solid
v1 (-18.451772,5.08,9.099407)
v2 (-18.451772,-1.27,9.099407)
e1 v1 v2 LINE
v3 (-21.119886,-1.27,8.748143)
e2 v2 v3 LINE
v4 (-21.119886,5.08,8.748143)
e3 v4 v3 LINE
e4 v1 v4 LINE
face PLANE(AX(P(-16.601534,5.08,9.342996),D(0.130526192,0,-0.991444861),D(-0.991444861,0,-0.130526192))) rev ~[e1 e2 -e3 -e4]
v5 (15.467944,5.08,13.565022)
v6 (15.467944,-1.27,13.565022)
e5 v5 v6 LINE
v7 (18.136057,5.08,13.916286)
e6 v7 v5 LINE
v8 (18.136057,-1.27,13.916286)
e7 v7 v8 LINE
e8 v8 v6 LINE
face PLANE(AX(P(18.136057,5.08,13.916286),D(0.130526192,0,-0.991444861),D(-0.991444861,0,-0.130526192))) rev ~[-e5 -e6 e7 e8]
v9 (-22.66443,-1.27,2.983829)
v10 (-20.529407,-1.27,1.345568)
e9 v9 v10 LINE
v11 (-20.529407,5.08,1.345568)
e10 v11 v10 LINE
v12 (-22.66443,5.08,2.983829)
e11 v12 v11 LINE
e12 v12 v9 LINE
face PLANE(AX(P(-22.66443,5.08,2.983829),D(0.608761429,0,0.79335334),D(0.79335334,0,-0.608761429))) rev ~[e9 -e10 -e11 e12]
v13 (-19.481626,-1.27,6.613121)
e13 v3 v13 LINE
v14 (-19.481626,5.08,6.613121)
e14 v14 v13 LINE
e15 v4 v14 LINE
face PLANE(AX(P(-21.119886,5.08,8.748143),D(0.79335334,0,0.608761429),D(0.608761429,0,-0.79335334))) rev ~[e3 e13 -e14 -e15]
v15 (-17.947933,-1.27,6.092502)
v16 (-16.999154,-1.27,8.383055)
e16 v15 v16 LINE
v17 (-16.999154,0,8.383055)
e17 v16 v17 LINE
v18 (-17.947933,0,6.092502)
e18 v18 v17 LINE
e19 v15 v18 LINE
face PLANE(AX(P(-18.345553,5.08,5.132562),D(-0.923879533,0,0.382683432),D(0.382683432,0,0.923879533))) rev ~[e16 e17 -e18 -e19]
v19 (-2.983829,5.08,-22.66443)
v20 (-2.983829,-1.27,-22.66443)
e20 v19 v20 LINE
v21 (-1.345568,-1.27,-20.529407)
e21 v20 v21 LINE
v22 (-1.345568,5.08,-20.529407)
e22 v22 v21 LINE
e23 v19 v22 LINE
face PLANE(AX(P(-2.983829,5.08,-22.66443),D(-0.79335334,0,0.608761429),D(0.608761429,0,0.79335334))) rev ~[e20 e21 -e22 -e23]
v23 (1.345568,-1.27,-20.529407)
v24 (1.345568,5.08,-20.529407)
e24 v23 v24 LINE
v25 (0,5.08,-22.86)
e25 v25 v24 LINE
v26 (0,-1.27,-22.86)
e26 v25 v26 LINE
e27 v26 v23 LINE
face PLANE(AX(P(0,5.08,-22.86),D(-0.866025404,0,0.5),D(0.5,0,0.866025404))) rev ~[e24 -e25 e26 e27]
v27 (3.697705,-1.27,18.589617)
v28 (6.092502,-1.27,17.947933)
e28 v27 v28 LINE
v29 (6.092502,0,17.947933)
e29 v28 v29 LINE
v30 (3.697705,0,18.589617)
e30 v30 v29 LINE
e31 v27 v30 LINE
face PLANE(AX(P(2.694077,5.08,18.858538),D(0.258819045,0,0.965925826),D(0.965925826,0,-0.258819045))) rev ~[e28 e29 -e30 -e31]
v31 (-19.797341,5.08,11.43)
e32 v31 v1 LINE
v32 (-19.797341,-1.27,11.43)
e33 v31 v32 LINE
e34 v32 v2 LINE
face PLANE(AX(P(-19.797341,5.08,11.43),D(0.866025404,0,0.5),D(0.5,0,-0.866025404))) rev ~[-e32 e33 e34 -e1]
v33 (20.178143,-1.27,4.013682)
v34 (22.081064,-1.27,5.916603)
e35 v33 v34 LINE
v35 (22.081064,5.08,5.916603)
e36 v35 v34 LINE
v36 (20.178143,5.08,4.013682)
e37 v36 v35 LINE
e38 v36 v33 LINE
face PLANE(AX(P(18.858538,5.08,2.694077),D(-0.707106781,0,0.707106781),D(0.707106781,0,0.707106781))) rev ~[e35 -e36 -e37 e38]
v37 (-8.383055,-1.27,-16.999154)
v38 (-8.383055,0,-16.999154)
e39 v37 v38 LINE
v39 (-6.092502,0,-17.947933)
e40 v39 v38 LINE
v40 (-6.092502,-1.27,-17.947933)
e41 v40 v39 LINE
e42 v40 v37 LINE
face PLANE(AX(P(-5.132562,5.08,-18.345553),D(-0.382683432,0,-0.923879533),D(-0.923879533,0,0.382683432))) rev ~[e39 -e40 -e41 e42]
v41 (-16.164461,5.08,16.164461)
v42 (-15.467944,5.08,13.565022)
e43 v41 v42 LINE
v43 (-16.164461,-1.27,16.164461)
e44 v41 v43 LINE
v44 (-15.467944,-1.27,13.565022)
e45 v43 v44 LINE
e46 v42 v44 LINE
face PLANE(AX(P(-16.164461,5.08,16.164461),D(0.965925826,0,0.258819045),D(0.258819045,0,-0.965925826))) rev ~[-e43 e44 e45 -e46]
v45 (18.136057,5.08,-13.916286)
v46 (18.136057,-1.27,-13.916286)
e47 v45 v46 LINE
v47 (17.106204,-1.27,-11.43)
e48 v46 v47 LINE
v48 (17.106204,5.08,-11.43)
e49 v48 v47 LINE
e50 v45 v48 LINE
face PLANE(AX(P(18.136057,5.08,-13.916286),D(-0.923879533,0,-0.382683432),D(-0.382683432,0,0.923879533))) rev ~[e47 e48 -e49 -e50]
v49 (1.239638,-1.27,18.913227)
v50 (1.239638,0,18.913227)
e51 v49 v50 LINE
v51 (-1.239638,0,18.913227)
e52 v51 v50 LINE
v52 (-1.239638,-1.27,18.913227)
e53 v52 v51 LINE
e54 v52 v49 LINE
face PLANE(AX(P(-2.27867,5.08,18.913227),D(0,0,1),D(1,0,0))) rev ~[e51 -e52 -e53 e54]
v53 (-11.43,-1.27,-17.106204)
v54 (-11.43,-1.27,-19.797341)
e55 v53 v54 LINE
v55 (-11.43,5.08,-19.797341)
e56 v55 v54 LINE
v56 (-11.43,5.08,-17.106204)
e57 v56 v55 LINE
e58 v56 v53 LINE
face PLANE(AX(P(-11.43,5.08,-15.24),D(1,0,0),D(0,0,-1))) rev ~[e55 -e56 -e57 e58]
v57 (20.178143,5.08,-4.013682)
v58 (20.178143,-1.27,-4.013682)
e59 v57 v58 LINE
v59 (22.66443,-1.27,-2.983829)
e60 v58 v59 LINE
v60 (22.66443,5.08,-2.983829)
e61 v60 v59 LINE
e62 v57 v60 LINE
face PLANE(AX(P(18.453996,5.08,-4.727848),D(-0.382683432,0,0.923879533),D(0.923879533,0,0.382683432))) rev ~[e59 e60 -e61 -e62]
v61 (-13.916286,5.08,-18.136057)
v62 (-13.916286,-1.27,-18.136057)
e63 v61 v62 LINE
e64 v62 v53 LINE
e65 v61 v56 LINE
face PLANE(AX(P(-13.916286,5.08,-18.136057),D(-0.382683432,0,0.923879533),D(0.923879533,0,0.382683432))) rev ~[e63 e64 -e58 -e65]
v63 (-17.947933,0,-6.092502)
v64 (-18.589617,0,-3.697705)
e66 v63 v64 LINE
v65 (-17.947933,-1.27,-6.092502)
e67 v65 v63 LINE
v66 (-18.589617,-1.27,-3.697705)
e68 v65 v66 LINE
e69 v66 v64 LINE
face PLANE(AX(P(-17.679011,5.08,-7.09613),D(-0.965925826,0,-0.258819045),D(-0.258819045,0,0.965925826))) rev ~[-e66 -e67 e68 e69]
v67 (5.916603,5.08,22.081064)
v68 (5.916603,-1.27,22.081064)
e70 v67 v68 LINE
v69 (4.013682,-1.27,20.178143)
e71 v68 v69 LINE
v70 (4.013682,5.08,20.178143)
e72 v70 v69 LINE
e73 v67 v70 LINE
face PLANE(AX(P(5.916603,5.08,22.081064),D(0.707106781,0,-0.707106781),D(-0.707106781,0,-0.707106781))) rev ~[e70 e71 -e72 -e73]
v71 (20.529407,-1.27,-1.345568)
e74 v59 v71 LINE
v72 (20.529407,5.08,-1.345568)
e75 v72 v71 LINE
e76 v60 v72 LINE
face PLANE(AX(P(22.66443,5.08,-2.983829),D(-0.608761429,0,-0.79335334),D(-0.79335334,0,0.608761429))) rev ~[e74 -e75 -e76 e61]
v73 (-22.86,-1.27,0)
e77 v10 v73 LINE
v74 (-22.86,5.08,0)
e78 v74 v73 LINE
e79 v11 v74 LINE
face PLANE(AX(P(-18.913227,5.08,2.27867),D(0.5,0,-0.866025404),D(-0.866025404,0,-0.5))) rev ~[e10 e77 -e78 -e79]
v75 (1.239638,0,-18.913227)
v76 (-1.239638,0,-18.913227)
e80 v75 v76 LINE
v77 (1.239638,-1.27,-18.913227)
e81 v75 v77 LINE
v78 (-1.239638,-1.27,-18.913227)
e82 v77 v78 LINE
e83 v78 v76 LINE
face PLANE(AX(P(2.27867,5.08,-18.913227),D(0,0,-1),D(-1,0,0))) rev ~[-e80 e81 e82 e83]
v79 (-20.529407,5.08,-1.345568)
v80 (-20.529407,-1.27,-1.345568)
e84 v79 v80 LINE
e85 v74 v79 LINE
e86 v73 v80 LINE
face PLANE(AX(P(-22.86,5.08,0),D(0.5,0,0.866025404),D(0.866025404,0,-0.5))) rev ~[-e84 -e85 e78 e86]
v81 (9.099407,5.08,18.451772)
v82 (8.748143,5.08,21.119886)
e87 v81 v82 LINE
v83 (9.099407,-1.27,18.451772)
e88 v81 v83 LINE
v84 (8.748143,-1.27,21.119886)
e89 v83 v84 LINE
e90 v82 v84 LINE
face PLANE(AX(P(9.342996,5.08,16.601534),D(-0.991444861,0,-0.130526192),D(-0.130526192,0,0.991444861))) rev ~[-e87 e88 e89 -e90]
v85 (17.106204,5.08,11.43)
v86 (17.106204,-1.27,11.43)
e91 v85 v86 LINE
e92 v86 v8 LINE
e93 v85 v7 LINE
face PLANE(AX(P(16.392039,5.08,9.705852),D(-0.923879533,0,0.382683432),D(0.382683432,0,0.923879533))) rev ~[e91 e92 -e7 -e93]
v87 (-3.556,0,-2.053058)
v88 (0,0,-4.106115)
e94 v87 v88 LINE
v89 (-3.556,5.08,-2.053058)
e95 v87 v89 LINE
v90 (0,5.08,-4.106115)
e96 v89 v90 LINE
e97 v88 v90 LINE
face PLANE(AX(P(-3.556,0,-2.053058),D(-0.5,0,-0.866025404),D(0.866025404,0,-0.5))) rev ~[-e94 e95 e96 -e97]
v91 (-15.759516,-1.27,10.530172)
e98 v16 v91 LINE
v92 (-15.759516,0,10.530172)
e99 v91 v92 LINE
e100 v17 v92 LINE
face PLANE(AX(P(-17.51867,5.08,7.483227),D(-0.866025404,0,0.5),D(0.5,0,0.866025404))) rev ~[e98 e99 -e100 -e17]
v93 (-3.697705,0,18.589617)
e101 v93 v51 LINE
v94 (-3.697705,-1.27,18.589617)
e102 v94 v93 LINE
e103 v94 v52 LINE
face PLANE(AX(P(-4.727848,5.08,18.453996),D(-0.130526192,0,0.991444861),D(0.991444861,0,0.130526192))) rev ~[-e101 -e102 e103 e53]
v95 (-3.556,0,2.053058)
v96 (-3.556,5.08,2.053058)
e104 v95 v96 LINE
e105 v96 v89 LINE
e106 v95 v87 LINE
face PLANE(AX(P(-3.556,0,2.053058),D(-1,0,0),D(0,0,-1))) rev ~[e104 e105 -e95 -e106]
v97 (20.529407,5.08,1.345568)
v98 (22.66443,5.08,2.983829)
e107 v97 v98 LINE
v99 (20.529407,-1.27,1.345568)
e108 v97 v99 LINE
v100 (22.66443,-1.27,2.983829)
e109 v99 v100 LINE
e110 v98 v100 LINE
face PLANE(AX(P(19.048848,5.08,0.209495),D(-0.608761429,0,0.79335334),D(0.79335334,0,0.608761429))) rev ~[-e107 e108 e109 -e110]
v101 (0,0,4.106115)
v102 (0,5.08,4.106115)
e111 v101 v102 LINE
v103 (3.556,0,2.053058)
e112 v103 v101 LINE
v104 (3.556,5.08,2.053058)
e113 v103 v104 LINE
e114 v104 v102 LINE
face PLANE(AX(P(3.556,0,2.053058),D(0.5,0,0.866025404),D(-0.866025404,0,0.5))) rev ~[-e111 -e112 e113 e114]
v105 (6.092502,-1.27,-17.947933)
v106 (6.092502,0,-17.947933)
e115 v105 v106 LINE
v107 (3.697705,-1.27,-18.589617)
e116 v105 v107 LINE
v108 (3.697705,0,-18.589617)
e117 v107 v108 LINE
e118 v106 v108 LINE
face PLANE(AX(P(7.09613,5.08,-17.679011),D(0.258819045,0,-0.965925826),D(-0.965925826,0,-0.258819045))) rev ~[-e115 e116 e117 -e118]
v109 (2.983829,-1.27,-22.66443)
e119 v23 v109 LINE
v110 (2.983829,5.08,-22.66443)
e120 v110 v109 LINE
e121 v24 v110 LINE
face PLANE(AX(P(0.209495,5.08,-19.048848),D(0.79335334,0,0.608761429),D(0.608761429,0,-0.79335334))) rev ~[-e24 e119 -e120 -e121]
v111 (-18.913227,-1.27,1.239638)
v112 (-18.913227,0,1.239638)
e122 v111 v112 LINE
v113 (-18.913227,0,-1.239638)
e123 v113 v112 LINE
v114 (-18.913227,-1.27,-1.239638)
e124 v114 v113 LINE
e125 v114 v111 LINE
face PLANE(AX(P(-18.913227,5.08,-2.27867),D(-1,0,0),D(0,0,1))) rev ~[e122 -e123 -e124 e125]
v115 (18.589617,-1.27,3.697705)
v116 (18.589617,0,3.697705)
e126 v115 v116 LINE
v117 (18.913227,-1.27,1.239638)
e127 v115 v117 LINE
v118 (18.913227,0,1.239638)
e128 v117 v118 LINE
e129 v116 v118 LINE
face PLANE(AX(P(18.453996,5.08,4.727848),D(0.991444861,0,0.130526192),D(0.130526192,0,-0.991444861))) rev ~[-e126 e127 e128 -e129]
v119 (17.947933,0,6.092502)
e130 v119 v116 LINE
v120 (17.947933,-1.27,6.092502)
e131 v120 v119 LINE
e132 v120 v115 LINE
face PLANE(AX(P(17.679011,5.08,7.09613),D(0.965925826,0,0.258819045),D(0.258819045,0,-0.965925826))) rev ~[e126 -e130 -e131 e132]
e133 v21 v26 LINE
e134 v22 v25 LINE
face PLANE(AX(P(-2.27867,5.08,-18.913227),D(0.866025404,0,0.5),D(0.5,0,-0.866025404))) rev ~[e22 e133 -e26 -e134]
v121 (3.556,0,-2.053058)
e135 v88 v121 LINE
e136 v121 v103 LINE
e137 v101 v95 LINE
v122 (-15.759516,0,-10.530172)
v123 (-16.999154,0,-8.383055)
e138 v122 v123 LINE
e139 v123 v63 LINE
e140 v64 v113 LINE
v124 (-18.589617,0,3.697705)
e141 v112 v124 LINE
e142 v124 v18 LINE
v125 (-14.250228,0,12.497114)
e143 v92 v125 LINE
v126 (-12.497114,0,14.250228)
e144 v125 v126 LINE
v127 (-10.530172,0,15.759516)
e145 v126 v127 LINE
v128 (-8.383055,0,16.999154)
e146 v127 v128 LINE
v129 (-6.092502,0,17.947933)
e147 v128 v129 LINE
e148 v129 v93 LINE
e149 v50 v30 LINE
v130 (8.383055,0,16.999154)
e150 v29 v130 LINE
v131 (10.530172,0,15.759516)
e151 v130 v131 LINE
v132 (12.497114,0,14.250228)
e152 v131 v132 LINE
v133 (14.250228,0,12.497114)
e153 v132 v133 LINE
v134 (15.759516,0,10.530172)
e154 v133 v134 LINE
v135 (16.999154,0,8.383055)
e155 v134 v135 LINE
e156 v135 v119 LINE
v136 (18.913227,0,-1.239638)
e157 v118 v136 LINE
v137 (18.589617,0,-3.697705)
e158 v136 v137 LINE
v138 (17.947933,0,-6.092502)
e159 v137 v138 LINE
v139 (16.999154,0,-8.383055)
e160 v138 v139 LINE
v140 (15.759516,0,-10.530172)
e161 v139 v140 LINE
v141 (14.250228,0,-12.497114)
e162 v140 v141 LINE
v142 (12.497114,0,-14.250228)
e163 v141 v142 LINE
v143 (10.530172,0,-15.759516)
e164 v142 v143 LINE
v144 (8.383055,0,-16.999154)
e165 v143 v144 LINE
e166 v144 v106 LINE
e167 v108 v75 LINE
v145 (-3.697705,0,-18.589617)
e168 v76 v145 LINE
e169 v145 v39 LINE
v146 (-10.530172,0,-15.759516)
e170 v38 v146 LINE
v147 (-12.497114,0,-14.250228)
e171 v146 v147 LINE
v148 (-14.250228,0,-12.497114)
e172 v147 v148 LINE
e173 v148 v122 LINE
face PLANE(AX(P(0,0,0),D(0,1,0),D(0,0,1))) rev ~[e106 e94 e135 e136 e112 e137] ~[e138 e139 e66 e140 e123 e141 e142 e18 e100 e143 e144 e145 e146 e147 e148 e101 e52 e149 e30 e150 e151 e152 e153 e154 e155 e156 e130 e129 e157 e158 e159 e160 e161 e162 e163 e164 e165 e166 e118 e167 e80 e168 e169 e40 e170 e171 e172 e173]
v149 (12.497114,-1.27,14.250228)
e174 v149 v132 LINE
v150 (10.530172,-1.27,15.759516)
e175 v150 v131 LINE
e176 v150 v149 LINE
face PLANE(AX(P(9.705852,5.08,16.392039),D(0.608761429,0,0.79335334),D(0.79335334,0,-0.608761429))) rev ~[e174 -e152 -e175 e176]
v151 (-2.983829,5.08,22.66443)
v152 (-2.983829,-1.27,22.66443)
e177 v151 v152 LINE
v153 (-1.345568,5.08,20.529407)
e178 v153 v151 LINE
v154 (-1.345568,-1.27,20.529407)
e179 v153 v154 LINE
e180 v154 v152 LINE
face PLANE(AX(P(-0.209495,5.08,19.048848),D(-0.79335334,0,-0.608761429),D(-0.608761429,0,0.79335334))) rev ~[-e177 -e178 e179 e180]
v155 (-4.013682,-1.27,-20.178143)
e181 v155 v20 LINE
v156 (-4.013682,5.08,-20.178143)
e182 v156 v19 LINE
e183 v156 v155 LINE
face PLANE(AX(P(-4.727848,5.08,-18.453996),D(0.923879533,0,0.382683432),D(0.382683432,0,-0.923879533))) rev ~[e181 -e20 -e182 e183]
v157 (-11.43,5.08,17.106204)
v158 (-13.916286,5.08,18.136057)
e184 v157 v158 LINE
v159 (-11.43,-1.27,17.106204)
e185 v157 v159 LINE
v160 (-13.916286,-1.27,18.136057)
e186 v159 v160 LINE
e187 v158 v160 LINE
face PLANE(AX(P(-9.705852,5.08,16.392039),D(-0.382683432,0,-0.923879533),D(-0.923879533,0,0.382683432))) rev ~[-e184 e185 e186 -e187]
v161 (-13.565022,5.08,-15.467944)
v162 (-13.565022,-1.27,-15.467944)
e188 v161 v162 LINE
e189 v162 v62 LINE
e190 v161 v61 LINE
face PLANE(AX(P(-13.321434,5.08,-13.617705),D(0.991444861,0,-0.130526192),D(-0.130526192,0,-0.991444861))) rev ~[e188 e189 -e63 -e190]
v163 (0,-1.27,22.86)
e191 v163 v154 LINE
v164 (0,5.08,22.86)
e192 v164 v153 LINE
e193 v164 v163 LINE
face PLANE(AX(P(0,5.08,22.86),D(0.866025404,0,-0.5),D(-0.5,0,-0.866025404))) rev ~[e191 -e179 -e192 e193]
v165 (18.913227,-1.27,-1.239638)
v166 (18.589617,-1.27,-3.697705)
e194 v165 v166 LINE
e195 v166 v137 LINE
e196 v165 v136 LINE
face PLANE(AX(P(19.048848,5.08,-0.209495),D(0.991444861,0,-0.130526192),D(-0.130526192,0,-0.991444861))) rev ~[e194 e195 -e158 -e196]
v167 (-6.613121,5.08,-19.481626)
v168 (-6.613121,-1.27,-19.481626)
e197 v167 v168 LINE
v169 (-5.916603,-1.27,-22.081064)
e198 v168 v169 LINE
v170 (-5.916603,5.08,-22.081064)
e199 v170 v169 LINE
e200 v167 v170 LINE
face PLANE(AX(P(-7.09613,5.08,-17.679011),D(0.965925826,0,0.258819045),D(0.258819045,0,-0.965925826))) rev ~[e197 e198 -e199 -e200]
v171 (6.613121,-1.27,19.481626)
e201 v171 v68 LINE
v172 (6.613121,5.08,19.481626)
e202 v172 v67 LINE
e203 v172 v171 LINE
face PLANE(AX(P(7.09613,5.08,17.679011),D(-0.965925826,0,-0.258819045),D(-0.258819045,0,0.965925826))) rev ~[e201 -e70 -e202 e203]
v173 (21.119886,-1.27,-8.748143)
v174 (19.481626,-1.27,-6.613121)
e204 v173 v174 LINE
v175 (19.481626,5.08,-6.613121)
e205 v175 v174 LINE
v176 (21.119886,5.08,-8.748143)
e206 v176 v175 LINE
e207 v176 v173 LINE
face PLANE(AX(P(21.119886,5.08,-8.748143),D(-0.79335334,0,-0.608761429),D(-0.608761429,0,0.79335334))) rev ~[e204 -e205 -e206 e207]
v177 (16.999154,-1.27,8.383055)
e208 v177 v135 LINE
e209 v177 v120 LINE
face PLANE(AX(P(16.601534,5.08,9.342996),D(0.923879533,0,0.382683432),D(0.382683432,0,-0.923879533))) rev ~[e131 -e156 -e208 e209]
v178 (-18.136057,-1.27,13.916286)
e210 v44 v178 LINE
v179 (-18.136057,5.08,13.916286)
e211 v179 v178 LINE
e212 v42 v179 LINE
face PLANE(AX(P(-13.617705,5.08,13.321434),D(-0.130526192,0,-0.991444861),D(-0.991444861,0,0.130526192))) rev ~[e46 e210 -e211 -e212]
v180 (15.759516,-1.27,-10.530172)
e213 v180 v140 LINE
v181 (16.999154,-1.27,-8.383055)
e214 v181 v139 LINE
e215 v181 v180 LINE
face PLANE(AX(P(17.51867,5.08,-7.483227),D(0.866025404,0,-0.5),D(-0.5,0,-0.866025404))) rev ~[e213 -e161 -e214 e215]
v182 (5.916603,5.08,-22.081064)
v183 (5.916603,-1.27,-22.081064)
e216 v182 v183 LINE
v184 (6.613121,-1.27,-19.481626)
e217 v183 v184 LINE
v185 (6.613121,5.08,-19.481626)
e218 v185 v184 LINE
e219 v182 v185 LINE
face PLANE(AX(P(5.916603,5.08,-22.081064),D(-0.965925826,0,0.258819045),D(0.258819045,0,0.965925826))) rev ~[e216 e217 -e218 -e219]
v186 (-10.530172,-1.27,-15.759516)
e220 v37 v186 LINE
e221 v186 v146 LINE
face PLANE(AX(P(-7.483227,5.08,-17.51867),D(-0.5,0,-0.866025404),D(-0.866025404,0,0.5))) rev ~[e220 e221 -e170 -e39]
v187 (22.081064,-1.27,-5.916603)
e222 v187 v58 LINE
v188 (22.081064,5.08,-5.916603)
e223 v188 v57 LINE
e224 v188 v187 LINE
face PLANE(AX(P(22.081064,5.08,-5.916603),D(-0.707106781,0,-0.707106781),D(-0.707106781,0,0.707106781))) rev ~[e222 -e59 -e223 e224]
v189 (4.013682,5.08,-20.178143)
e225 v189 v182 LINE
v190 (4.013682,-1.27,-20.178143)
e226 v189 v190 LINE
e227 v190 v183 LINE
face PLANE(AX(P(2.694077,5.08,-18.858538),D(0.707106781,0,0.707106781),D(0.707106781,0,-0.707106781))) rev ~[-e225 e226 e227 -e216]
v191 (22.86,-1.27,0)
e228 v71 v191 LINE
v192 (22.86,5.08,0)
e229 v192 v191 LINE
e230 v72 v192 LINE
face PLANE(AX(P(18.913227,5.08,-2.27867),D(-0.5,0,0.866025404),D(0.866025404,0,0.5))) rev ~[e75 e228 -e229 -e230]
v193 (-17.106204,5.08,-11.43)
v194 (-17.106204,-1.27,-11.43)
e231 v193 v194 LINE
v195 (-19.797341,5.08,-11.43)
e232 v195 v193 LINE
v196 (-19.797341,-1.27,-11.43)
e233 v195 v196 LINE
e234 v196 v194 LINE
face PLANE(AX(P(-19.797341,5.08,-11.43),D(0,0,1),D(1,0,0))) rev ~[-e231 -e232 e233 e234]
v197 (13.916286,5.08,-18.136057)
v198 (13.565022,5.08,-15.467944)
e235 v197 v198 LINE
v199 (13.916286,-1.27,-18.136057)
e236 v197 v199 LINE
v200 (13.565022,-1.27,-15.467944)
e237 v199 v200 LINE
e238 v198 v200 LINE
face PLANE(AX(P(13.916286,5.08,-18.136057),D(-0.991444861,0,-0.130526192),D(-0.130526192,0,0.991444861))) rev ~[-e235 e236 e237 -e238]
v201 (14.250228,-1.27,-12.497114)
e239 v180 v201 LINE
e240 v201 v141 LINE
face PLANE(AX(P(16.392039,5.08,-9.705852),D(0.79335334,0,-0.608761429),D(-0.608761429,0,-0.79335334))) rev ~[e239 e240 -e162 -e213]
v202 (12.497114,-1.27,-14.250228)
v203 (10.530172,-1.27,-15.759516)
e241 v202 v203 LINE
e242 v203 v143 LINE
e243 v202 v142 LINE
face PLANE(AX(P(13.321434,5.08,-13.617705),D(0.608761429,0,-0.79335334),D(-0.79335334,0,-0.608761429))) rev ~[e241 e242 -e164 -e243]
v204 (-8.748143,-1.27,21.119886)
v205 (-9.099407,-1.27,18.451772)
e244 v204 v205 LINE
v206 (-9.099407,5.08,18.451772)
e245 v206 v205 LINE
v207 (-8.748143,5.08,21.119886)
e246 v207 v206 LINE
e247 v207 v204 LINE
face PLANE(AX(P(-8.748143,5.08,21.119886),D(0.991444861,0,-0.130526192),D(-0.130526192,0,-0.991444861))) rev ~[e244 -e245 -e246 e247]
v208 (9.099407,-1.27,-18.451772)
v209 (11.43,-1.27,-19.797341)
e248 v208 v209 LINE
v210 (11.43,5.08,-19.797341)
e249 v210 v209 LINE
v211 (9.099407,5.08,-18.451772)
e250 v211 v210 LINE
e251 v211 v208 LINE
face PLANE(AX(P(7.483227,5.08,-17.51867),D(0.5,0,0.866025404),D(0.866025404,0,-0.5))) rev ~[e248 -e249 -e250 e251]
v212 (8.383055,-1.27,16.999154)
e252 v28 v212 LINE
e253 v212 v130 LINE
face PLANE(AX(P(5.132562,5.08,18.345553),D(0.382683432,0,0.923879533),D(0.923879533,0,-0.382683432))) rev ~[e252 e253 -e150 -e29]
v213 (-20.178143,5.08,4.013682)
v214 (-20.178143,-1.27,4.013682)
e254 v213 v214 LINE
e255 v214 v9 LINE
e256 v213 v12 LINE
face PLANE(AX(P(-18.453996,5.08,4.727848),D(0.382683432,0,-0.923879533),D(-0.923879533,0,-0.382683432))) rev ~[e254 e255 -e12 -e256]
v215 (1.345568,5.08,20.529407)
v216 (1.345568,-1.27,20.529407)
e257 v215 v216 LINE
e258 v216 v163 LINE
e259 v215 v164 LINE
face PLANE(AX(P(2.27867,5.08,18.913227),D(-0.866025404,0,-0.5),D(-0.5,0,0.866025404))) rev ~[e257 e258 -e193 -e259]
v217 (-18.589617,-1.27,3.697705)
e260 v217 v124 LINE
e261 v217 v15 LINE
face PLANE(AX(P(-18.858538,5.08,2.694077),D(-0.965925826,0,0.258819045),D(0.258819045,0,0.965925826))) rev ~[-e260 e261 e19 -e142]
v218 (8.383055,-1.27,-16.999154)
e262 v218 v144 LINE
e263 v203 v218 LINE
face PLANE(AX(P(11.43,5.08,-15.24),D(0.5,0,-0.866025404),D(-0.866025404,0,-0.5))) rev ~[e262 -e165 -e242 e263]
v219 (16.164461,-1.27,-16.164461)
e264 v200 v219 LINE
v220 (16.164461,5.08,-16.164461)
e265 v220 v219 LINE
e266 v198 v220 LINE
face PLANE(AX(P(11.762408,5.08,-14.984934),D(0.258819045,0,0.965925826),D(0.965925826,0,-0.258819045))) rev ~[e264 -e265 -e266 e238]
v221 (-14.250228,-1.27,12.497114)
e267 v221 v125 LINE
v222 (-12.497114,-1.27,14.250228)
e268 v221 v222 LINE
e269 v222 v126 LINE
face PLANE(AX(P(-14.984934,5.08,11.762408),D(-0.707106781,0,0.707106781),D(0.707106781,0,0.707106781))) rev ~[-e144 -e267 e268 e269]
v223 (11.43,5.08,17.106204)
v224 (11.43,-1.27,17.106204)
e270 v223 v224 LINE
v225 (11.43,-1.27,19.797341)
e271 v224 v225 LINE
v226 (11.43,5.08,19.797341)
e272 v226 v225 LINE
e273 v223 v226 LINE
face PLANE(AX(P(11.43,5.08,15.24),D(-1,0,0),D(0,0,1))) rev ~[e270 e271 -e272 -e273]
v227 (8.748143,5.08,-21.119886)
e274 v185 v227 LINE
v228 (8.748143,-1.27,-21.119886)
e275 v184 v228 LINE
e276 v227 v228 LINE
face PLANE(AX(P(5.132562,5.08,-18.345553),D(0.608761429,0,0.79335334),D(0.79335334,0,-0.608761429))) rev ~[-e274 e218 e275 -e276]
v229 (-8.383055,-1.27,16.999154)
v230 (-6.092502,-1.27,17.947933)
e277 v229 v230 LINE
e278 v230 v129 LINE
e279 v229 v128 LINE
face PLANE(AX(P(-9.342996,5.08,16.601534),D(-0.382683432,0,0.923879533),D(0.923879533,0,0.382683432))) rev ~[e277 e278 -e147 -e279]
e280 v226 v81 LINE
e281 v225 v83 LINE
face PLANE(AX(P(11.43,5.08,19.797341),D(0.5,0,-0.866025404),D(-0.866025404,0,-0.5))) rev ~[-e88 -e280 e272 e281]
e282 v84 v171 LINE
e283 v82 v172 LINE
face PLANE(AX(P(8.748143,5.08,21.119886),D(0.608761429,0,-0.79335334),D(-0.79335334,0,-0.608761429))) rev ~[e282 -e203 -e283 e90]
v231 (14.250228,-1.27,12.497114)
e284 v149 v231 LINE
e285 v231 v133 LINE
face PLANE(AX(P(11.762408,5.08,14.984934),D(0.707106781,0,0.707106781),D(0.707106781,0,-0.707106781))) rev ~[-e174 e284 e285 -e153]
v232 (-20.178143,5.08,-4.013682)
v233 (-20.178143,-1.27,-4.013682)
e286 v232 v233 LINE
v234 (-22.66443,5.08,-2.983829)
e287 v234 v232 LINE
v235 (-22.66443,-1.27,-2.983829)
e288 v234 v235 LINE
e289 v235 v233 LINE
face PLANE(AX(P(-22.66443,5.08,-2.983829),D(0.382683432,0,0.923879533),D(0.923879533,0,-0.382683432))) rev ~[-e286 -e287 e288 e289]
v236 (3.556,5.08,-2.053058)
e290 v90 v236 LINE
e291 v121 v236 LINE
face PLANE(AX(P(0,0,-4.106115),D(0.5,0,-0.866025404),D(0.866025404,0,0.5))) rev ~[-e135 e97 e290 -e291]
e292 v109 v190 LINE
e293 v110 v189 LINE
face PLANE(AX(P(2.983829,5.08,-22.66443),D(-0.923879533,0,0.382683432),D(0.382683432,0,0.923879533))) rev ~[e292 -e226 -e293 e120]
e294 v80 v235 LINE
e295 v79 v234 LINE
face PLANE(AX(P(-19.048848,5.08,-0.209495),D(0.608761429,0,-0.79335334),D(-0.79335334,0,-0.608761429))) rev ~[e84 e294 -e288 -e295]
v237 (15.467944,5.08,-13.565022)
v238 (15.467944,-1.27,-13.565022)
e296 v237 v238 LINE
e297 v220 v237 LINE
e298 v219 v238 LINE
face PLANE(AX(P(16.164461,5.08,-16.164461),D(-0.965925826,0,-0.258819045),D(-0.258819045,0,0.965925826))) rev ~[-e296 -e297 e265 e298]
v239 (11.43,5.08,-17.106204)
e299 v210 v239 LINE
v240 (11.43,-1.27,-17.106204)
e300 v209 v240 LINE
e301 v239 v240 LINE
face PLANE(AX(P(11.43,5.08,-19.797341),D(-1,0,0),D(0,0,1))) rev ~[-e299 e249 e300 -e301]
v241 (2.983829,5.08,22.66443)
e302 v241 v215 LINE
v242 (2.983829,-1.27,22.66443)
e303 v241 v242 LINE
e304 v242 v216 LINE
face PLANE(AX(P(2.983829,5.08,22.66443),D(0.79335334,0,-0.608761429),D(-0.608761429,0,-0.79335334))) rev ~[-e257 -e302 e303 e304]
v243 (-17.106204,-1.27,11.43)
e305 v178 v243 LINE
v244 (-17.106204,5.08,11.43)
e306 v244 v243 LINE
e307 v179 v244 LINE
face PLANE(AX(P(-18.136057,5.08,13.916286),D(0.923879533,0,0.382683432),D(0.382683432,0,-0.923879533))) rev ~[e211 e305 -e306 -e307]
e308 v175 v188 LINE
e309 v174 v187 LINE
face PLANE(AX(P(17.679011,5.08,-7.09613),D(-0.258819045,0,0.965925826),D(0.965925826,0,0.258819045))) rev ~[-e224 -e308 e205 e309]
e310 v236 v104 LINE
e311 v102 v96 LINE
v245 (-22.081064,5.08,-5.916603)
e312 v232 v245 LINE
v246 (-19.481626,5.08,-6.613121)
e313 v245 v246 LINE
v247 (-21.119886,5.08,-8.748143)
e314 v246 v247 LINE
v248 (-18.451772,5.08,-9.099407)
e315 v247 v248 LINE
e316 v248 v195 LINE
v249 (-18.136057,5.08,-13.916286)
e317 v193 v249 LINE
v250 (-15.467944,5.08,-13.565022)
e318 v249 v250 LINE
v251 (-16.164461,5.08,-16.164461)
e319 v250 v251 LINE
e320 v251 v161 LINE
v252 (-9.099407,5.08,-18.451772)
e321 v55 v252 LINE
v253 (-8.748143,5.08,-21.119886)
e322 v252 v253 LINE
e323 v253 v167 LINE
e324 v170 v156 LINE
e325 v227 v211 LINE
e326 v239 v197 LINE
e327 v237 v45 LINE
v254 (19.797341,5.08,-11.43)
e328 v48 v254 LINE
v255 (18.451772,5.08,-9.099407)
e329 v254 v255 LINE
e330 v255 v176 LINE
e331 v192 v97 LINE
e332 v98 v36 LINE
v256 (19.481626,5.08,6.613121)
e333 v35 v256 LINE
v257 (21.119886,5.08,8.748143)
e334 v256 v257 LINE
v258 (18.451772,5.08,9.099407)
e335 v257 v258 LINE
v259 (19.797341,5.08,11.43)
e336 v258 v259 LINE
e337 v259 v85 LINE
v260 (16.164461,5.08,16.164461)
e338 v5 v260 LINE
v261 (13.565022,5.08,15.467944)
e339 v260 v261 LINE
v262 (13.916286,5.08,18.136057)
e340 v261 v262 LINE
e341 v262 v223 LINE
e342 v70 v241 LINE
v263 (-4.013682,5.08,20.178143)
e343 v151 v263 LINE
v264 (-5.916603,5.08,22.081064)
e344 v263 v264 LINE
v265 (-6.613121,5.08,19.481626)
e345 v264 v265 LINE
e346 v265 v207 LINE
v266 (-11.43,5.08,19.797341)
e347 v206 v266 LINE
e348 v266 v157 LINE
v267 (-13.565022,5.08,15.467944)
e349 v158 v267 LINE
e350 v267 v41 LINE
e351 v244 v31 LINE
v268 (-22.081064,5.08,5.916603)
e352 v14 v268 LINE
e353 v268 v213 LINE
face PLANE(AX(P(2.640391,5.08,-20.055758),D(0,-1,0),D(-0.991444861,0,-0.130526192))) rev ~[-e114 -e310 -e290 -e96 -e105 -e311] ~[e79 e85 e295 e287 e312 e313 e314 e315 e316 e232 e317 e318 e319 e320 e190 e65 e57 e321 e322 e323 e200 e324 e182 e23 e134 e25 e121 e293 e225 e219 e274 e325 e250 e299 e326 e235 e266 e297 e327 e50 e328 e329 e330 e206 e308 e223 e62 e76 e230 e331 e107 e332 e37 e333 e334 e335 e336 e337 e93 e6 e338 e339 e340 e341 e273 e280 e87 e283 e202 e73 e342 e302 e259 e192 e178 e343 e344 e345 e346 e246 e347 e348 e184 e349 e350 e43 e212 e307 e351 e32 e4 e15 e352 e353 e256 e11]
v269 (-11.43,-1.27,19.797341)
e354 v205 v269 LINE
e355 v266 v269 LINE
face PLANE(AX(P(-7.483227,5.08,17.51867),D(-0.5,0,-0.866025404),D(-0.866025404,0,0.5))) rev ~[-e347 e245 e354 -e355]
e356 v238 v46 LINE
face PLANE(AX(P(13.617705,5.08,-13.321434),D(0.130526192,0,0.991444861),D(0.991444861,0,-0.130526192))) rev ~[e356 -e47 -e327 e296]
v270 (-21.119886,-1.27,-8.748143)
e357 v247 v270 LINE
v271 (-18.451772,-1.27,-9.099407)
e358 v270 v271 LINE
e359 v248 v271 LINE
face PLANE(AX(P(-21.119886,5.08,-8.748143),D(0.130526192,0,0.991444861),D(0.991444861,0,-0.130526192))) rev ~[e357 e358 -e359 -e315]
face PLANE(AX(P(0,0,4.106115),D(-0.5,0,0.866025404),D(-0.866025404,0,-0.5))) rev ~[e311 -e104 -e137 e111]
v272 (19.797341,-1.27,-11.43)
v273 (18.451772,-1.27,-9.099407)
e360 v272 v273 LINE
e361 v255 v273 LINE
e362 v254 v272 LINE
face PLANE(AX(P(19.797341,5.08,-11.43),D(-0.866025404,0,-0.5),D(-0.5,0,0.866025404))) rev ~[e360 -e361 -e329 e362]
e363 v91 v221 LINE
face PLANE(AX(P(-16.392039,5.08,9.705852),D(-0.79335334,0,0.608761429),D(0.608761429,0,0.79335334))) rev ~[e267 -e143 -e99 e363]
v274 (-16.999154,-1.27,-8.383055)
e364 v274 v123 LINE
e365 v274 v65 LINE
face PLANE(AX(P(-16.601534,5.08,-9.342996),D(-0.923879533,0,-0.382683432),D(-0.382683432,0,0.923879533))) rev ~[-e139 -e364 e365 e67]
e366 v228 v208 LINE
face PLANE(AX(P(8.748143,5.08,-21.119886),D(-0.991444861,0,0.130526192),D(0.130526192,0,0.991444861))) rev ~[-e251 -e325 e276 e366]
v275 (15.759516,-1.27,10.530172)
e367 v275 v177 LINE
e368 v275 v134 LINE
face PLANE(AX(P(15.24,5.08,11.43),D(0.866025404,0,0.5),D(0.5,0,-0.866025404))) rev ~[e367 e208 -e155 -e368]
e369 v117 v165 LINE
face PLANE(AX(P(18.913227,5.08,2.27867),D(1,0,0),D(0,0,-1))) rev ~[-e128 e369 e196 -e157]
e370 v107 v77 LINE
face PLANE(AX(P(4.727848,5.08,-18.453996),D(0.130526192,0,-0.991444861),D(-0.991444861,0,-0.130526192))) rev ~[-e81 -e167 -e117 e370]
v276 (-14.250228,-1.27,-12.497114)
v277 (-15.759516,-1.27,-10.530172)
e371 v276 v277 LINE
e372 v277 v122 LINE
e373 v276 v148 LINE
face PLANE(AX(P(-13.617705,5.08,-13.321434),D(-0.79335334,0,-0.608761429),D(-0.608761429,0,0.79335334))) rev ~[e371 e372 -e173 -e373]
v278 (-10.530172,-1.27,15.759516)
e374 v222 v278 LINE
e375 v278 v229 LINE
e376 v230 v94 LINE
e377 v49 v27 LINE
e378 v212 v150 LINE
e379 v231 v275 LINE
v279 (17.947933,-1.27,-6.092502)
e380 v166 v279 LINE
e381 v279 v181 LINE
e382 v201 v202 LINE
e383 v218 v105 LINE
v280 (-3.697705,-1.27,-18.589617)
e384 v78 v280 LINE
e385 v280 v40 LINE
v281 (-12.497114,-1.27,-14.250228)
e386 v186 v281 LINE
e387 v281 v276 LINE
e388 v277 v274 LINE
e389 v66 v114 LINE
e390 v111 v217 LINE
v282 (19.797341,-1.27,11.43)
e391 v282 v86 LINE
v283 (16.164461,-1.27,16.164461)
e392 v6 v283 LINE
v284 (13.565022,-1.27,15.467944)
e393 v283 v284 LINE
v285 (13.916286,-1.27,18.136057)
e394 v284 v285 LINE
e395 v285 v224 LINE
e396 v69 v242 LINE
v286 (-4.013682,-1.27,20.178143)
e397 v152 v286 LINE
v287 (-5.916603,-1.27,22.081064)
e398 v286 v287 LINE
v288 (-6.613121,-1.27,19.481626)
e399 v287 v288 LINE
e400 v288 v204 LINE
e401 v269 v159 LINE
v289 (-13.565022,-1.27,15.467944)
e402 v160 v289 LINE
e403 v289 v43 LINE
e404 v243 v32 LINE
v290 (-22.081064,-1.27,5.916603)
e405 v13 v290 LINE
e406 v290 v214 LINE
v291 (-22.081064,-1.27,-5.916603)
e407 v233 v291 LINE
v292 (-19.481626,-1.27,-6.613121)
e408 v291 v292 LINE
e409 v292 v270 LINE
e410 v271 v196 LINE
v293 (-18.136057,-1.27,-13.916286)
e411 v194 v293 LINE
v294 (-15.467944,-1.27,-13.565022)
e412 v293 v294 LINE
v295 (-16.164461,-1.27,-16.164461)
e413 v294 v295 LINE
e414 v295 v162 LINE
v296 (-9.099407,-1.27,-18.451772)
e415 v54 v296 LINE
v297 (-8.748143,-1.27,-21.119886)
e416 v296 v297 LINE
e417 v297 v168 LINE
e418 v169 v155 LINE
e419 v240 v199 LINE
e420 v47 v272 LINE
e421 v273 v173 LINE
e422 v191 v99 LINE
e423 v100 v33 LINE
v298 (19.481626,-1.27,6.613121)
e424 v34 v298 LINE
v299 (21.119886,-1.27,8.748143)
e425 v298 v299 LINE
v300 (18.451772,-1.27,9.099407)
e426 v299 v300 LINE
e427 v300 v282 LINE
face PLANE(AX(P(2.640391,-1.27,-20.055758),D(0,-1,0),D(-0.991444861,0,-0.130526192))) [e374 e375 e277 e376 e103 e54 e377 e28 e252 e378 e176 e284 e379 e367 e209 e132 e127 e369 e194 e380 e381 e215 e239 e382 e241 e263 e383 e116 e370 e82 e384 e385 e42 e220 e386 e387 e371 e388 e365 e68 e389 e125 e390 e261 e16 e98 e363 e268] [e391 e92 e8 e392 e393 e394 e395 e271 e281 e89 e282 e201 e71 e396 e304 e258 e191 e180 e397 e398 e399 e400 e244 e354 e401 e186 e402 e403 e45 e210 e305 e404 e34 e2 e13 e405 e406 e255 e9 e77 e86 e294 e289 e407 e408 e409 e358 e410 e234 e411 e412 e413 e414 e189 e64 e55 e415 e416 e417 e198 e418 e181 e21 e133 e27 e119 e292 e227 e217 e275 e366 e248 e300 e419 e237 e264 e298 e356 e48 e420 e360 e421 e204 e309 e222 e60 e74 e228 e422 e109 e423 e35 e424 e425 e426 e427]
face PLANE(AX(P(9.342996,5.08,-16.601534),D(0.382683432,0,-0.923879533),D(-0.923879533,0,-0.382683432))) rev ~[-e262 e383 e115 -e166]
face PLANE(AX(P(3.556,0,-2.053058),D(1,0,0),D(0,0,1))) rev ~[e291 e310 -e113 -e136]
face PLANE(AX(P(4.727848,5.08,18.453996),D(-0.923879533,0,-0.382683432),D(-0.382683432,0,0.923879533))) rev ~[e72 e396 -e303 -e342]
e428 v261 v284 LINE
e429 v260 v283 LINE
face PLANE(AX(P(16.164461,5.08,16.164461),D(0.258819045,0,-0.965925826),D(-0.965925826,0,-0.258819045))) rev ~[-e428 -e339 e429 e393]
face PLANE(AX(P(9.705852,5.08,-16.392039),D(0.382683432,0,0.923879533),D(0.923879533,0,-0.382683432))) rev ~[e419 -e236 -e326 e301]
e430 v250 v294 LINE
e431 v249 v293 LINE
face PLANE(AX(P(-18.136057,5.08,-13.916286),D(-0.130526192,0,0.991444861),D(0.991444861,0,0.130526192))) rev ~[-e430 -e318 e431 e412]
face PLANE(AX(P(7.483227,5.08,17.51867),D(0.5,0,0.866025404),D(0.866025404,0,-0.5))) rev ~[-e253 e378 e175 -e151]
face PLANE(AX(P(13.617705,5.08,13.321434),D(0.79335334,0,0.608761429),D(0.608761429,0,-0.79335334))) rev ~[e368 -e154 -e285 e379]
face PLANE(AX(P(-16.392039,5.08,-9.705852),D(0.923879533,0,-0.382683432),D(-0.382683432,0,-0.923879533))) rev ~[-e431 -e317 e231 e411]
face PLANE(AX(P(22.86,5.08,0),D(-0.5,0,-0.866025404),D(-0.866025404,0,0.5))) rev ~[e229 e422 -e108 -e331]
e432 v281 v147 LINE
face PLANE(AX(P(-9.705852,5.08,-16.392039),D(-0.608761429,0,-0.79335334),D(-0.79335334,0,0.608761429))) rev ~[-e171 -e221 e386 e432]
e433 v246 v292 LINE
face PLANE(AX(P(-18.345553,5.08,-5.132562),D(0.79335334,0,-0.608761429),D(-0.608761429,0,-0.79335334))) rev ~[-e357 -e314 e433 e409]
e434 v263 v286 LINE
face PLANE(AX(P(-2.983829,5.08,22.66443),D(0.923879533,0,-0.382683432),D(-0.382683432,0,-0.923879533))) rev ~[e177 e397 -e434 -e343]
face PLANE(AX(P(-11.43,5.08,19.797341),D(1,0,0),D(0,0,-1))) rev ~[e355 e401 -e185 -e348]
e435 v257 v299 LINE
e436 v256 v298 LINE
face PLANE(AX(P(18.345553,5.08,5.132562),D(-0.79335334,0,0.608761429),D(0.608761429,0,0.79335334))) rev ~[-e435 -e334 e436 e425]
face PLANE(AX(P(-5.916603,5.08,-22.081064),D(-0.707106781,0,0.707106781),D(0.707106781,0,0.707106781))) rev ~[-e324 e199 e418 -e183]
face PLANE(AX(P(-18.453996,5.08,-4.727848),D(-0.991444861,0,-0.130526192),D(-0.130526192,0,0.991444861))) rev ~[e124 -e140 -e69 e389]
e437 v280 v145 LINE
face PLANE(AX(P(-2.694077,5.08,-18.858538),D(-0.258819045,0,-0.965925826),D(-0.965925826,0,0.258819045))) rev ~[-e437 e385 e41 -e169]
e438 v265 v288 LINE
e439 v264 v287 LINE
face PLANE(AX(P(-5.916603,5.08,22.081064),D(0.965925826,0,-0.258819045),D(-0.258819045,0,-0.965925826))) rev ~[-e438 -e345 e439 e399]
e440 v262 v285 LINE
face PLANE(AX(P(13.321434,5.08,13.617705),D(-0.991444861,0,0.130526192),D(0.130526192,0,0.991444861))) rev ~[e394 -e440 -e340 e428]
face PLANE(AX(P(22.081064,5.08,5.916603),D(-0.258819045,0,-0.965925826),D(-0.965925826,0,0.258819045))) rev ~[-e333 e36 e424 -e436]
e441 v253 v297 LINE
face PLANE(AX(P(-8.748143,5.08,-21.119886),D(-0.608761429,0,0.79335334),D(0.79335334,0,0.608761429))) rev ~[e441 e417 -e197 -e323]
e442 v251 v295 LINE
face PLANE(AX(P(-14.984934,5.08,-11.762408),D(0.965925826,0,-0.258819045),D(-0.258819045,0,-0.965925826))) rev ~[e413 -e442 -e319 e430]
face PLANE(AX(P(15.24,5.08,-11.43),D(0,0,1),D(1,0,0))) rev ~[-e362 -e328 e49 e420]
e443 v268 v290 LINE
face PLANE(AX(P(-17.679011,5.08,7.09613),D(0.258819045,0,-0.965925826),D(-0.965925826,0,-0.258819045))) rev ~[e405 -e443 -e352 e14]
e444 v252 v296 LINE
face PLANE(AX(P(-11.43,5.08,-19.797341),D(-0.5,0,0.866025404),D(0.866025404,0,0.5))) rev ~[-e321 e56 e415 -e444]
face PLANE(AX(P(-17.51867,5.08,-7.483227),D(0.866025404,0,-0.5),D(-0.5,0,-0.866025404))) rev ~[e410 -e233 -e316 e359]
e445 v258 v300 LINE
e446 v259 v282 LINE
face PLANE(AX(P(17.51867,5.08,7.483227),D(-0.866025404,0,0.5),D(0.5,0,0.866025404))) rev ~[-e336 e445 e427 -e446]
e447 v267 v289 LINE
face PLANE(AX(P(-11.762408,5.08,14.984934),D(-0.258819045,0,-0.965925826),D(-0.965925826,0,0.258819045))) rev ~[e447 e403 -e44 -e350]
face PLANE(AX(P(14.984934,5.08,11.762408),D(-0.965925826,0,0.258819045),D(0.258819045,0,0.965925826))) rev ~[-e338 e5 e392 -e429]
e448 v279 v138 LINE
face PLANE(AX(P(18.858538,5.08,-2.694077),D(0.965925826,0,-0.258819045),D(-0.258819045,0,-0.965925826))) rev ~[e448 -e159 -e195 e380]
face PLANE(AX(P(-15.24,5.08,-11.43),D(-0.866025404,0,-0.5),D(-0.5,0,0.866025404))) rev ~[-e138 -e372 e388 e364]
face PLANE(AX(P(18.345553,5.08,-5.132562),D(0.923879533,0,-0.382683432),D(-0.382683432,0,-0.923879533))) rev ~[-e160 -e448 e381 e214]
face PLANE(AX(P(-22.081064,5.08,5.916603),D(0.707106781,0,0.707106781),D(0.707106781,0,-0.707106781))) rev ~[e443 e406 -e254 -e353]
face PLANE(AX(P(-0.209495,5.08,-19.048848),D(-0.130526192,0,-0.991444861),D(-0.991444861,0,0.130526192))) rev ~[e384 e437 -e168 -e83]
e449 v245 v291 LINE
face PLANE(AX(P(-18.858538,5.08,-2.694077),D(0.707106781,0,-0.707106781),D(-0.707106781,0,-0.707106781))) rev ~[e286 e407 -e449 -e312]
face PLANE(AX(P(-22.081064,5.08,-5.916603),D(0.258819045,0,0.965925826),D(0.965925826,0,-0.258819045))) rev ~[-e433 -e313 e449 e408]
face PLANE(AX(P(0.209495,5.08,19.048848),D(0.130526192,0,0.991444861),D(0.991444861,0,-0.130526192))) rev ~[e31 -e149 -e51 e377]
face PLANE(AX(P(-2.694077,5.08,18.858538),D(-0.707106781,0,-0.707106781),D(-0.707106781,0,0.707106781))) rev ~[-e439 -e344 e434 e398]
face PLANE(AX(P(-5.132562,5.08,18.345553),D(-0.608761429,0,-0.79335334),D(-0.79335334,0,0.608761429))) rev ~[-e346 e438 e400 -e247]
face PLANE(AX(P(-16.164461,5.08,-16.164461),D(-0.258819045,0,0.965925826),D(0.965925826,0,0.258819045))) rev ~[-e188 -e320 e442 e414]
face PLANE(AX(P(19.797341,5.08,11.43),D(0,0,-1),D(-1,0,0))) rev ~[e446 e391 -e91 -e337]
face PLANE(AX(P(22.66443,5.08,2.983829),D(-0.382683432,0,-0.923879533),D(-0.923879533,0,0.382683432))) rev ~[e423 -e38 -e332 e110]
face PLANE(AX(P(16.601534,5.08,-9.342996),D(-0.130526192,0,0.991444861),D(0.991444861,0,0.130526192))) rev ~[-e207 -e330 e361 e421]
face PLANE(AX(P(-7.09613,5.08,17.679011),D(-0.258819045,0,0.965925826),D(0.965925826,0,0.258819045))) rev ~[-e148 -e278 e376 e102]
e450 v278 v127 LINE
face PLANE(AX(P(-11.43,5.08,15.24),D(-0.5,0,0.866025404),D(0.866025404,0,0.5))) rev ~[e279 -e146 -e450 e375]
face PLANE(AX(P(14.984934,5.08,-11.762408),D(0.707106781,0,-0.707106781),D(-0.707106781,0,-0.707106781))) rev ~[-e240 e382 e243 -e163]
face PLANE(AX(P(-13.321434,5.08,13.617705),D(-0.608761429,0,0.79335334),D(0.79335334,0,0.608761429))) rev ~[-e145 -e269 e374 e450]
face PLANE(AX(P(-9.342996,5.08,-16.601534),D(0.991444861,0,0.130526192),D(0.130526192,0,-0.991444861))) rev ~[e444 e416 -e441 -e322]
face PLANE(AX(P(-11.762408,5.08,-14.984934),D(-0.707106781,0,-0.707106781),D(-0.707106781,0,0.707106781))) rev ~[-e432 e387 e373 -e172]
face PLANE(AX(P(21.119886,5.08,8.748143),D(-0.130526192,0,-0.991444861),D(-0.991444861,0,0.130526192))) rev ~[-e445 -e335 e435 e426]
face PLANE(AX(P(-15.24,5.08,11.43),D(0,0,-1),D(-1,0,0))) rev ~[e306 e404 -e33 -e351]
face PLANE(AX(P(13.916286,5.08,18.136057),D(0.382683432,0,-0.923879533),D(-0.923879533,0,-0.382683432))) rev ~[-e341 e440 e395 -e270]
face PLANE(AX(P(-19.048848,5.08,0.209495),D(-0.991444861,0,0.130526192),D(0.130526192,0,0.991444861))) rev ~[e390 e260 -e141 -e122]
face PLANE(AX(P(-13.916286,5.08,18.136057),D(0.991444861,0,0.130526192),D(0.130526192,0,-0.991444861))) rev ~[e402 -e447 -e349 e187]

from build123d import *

# Parameters (mm, degrees)
SKETCH1_R           = 19.05
BOSS_EXTRUDE1_DEPTH = 5.08
BOSS_EXTRUDE3_DEPTH = 6.35
CIRPATTERN1_COUNT   = 48
CUT_EXTRUDE1_DEPTH  = 33.725610766


with BuildPart() as part:
    # Sketch1 → Boss-Extrude1 (new body)
    with BuildSketch(Plane(origin=(0, 0, 0), x_dir=(1, 0, 0), z_dir=(0, 1, 0))):
        Circle(SKETCH1_R)
    extrude(amount=BOSS_EXTRUDE1_DEPTH)

    # Sketch3 → Boss-Extrude3 (add)
    with BuildSketch(Plane(origin=(0, 5.08, 0), x_dir=(1, 0, 0), z_dir=(0, 1, 0))):
        Polygon((0, 22.86), (2.278670365, 18.913227154), (-2.278670365, 18.913227154), align=None)
    boss_extrude3 = extrude(amount=-BOSS_EXTRUDE3_DEPTH)

    # CirPattern1: Boss-Extrude3 ×48 about axis
    cirpattern1_axis = Axis((0, -0.127, 0), (0, 1, 0))
    for i in range(1, CIRPATTERN1_COUNT):
        add(boss_extrude3.rotate(cirpattern1_axis, i * 360 / CIRPATTERN1_COUNT))

    # Sketch6 → Cut-Extrude1 (cut, through all)
    with BuildSketch(Plane.XZ):
        Polygon((0, -4.106115114), (3.556, -2.053057557), (3.556, 2.053057557), (0, 4.106115114), (-3.556, 2.053057557), (-3.556, -2.053057557), align=None)
    extrude(amount=-CUT_EXTRUDE1_DEPTH, mode=Mode.SUBTRACT)


solid = part.part
